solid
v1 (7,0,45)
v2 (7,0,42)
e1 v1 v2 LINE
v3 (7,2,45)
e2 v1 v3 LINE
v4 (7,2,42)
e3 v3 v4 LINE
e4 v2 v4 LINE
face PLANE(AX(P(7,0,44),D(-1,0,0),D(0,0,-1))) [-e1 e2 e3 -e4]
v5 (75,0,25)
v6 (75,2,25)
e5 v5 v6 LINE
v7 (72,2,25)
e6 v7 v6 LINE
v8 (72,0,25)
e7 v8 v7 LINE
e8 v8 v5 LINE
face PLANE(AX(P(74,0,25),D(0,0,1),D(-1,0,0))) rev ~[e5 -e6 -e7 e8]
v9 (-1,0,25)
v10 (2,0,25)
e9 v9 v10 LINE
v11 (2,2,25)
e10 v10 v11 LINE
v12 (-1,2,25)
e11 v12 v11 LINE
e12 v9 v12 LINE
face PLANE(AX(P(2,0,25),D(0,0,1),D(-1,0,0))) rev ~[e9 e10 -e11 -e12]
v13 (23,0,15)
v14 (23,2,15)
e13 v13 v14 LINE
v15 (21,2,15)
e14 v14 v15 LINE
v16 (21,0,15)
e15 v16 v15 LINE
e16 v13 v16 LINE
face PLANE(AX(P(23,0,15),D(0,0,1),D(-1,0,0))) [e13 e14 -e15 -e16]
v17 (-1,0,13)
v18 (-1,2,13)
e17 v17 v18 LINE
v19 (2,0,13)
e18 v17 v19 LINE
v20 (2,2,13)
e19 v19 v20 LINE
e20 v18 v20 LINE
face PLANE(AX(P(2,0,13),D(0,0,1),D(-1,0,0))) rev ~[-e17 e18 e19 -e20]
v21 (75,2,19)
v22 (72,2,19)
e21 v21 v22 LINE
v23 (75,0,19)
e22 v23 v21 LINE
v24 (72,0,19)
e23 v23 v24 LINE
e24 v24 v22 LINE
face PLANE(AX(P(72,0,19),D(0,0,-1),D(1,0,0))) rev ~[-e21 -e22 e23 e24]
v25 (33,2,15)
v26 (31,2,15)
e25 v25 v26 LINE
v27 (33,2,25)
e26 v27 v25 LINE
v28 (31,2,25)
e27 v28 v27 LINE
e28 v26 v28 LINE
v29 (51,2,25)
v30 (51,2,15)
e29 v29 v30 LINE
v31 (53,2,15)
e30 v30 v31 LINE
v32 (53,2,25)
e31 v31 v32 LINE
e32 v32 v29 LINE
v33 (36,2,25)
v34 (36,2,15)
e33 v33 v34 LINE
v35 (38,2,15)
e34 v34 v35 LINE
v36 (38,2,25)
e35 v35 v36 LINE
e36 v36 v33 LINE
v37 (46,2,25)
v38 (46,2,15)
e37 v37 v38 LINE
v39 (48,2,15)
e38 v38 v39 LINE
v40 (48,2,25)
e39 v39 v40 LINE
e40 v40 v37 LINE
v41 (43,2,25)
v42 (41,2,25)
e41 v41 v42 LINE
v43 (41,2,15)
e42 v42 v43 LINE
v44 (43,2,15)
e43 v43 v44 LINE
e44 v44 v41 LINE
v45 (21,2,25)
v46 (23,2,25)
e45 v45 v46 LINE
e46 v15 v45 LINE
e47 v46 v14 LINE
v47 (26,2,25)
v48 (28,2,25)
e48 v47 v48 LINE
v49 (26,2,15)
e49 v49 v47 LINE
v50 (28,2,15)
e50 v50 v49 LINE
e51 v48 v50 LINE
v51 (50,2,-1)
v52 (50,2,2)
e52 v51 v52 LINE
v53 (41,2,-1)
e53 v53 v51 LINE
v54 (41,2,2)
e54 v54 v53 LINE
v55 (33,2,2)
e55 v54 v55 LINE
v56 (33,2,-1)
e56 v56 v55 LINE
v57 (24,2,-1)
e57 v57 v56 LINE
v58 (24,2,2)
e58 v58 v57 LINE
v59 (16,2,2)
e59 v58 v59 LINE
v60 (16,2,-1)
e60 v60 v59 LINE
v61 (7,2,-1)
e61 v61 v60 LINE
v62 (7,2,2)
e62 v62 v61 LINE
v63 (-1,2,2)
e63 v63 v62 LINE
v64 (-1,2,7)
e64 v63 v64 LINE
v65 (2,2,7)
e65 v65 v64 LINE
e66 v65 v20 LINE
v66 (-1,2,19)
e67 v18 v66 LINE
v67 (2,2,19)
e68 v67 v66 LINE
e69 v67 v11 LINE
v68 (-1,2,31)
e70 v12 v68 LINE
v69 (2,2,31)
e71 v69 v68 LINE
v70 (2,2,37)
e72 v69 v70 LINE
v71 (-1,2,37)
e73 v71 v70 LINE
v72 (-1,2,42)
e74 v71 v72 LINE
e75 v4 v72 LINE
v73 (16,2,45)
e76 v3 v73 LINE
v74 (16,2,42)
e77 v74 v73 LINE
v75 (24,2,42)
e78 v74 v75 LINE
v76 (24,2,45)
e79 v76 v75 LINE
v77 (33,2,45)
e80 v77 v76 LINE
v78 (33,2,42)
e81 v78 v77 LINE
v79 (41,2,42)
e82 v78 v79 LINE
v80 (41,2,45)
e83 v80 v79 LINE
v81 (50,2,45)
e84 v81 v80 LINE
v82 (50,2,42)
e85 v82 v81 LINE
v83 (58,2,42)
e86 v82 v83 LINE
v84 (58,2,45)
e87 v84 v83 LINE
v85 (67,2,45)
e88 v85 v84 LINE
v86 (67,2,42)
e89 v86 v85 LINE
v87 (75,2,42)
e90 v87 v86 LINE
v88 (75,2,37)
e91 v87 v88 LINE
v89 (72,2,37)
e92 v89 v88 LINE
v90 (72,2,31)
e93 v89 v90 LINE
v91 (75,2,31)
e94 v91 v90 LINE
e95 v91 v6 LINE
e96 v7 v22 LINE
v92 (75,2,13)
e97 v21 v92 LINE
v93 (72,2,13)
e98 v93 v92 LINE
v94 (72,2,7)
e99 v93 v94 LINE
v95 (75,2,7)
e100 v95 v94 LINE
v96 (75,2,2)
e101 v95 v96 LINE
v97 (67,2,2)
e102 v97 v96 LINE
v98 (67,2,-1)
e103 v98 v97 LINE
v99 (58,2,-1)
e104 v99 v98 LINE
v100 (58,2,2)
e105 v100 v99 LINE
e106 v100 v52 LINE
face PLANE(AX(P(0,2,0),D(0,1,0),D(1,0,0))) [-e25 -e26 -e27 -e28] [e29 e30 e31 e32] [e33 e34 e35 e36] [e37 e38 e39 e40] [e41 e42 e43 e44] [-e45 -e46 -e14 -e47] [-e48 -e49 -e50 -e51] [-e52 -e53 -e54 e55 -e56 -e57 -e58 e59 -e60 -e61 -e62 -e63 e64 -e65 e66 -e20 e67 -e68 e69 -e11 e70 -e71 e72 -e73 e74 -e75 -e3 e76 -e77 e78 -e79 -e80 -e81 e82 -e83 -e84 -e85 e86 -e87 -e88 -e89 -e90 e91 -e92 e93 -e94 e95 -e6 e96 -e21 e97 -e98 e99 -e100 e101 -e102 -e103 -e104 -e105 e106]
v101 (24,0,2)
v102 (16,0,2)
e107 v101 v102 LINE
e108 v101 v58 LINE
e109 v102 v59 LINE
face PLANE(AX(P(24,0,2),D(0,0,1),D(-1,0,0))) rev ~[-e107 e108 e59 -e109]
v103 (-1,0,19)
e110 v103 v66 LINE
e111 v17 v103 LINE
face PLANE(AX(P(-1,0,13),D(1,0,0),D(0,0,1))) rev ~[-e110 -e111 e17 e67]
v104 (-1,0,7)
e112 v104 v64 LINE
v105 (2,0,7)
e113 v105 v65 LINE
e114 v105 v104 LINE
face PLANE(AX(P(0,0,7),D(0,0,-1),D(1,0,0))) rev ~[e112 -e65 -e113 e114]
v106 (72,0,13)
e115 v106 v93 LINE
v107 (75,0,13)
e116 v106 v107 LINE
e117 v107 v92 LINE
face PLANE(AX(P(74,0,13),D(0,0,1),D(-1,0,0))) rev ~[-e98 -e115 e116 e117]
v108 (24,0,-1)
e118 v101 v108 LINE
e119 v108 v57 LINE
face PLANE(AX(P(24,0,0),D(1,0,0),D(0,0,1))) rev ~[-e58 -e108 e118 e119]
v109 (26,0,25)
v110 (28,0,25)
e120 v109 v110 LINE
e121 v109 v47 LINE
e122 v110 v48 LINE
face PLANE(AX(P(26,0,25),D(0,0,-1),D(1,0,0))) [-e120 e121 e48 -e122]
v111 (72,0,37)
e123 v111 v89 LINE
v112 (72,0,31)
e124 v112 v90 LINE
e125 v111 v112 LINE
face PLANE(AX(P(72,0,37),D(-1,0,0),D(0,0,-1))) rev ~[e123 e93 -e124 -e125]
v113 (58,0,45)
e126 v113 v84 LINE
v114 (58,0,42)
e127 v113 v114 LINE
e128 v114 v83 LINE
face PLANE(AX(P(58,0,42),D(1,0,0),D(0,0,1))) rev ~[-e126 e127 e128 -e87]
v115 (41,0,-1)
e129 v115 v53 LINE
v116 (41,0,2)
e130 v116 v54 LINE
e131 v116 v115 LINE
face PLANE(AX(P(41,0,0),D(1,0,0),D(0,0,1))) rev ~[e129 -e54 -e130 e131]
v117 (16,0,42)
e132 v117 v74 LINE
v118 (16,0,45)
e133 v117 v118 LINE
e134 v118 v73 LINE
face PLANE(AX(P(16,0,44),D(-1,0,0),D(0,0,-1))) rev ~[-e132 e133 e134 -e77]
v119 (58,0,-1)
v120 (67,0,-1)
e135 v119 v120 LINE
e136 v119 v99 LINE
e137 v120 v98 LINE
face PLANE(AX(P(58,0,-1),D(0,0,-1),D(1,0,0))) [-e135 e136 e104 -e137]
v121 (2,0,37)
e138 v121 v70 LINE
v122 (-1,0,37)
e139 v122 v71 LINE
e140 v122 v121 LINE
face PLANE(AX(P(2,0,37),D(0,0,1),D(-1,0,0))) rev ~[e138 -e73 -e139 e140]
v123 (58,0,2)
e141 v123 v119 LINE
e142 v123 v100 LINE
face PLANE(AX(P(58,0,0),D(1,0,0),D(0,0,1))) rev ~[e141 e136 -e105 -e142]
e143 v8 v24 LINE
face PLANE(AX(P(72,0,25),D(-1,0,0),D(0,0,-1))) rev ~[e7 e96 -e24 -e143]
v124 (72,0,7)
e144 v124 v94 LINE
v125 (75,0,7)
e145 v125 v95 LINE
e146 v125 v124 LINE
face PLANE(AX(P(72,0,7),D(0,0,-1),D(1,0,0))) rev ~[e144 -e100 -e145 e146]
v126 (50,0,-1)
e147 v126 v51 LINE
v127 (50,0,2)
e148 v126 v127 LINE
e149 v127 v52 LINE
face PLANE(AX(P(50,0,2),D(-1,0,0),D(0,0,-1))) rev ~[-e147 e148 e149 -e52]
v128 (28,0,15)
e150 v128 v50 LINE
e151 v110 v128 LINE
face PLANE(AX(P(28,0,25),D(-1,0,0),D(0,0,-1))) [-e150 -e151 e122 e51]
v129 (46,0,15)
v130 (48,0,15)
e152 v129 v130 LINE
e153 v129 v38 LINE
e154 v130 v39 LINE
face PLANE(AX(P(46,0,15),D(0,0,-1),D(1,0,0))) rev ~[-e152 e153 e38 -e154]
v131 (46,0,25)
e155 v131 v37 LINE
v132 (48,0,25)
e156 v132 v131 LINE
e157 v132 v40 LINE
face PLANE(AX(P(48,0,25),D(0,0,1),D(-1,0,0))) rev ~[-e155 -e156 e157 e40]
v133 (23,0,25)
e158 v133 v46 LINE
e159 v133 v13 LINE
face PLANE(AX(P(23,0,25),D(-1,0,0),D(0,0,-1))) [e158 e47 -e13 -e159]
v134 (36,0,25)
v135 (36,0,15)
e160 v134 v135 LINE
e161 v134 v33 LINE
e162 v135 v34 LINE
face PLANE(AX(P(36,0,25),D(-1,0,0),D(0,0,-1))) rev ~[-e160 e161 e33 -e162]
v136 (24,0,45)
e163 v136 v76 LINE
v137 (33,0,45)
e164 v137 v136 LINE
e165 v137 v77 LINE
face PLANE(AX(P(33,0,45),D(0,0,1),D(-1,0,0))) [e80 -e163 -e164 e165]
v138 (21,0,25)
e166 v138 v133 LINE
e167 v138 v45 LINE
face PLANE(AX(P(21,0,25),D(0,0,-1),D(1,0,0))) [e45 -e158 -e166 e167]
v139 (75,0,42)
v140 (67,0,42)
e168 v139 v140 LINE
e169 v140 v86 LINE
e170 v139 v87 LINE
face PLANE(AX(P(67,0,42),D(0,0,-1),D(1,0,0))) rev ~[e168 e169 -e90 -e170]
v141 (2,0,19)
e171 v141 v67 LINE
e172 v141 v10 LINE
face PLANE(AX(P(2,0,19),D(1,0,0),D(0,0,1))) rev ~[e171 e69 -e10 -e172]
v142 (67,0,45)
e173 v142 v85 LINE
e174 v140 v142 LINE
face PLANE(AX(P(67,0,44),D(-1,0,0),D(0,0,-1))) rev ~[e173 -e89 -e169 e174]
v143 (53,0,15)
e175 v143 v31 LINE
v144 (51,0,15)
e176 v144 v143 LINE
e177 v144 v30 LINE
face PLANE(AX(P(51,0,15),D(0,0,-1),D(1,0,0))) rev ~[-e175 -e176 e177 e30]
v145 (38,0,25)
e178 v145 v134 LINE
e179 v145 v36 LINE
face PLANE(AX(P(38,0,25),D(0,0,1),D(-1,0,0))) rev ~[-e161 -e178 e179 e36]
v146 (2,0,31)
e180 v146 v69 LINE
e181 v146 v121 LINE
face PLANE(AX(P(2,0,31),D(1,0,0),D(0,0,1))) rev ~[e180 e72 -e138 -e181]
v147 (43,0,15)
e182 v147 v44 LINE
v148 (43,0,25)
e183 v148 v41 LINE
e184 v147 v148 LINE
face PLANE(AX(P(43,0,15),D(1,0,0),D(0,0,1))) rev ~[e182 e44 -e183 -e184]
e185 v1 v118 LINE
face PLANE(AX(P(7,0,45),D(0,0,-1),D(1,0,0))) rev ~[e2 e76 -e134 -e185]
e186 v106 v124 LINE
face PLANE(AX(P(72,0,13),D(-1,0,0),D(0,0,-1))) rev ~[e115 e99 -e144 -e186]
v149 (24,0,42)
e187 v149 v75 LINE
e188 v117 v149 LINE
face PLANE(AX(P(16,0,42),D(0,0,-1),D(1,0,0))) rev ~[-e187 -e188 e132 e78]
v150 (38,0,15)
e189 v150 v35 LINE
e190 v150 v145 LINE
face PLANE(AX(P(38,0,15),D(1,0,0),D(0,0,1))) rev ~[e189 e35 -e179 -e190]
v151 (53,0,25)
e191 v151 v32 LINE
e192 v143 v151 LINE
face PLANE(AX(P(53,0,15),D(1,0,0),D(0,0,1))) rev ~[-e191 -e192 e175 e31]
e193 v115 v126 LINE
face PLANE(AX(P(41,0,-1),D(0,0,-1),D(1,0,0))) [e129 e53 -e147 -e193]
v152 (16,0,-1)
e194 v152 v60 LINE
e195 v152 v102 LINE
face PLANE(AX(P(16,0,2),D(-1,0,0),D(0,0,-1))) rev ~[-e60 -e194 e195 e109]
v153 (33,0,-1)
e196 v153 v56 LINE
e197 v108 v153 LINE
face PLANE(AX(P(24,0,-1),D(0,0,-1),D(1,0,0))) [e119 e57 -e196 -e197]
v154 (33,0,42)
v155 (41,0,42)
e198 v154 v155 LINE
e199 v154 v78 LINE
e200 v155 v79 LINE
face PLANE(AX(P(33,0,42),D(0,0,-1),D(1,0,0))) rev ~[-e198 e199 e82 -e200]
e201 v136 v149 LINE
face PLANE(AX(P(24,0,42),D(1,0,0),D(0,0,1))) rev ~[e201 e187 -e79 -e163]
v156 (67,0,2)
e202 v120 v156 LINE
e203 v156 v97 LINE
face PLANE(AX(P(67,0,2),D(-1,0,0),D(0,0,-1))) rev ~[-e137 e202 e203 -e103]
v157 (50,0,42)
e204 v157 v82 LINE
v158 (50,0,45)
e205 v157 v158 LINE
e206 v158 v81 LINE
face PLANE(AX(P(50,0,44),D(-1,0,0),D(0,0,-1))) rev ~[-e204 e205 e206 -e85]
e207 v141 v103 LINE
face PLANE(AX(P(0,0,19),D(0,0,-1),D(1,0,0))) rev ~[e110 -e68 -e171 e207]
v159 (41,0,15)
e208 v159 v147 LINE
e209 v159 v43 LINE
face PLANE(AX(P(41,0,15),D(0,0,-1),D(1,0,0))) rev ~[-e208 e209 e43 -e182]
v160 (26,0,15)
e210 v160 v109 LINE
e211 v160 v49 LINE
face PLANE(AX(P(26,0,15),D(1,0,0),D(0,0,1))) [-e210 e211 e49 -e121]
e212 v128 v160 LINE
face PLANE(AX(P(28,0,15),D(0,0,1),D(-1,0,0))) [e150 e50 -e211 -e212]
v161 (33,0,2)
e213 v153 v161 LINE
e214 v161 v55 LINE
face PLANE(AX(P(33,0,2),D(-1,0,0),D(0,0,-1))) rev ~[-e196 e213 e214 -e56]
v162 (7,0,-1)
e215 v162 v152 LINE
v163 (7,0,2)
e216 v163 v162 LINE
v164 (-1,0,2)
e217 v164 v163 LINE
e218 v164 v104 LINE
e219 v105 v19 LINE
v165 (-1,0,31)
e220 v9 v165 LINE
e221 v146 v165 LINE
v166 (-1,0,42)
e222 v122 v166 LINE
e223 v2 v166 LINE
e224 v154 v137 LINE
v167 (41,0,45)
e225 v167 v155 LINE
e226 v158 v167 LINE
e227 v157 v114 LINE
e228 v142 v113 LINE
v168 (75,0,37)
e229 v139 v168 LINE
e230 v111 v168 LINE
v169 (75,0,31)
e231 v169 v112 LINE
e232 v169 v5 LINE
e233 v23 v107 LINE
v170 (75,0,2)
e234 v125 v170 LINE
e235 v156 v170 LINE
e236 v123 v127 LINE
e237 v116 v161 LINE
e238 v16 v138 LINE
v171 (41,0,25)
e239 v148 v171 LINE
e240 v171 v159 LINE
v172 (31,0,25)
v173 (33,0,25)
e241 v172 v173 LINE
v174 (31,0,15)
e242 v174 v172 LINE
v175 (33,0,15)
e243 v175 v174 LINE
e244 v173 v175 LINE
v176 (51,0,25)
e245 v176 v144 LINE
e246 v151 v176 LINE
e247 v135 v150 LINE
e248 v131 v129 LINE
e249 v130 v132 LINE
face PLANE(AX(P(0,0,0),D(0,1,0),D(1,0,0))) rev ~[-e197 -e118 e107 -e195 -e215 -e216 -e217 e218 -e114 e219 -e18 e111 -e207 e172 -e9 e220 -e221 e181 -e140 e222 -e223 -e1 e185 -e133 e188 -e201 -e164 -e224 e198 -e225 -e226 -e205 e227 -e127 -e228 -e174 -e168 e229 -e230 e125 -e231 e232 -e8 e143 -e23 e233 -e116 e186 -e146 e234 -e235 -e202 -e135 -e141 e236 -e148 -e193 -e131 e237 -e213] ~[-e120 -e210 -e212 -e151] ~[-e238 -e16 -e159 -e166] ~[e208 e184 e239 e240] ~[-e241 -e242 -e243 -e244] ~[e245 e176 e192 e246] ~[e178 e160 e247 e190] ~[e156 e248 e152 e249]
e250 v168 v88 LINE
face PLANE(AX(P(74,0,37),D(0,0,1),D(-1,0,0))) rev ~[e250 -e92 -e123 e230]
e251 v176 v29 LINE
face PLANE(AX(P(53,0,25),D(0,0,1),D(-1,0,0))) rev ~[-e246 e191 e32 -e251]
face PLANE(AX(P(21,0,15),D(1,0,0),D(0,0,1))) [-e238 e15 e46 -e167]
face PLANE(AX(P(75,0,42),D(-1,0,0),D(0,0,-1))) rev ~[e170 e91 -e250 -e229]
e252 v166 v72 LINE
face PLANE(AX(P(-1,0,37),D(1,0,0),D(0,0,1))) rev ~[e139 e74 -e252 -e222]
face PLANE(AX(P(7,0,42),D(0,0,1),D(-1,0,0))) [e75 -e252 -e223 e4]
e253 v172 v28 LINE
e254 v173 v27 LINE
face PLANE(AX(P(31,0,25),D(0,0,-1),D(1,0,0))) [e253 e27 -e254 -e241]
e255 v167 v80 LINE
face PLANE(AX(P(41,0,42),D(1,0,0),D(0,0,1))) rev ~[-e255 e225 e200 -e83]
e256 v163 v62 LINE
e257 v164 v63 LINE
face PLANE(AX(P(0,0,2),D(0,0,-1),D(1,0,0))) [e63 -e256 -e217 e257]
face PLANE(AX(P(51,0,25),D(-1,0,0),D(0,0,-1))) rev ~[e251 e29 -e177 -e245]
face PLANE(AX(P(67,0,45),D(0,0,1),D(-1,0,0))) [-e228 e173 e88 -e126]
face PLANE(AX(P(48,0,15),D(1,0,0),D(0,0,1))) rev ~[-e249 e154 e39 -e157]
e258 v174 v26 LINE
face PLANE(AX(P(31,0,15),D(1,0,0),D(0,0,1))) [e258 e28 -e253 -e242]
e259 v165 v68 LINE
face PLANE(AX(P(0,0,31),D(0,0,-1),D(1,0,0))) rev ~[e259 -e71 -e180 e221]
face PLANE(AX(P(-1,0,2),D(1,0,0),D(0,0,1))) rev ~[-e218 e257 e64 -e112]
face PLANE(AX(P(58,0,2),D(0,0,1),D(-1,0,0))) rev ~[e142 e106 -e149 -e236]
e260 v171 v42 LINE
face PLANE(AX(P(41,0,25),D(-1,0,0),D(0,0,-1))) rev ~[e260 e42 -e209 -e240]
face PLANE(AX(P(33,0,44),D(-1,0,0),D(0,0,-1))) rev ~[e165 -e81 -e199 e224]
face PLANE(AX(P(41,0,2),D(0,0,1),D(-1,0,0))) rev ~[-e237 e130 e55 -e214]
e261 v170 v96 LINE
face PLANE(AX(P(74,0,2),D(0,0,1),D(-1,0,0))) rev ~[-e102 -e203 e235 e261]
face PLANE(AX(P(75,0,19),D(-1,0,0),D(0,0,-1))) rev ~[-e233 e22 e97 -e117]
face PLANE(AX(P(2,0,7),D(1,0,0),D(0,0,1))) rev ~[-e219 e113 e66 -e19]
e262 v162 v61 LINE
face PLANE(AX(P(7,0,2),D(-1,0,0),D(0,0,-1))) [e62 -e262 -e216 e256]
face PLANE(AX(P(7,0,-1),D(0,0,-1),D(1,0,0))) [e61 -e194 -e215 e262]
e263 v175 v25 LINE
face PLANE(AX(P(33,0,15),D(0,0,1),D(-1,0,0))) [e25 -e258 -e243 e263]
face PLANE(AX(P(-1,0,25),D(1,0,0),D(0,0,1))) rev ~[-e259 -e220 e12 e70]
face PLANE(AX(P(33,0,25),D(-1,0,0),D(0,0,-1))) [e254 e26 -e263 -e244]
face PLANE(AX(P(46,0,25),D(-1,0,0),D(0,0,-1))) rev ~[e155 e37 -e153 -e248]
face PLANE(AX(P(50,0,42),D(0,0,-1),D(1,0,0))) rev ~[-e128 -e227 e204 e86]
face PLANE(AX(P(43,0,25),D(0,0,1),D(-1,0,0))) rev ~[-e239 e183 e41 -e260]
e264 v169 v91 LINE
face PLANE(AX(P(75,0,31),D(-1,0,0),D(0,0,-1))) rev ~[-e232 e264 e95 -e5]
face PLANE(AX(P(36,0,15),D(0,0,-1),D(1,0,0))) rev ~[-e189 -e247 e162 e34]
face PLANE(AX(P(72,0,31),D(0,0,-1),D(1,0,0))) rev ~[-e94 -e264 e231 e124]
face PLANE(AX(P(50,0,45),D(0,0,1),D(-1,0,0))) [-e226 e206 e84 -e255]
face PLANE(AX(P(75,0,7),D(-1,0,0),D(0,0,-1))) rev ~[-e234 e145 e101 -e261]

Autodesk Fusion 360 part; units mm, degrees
sketch "スケッチ1" plane through (0, 0, 0) normal (0, 1, 0) x (1, 0, 0)
  line L0 (0, 0) -> (74, 0)
  line L1 (74, 0) -> (74, -44)
  line L2 (74, -44) -> (0, -44)
  line L3 (0, -44) -> (0, 0)
  dimension "d1" = 74
  dimension "d2" = 44
extrude "押し出し1" add sketch "スケッチ1" along normal blind 2
sketch "スケッチ2" plane through (0, 0, 0) normal (0, -1, 0) x (1, 0, 0)
  line L0 (74, 44) -> (0, 44)
  line L1 (0, 44) -> (0, 0)
  line L2 (0, 0) -> (74, 0)
  line L3 (74, 0) -> (74, 44)
  line L4 (0, 44) -> (7, 44)
  line L5 (7, 44) -> (7, 42)
  line L6 (7, 42) -> (0, 42)
  line L7 (0, 42) -> (0, 44)
  line L8 (16, 42) -> (24, 42)
  line L9 (24, 42) -> (24, 44)
  line L10 (24, 44) -> (16, 44)
  line L11 (16, 44) -> (16, 42)
  line L12 (41, 44) -> (33, 44)
  line L13 (33, 42) -> (41, 42)
  line L14 (41, 42) -> (41, 44)
  line L15 (33, 44) -> (33, 42)
  line L16 (58, 44) -> (50, 44)
  line L17 (50, 42) -> (58, 42)
  line L18 (58, 42) -> (58, 44)
  line L19 (50, 44) -> (50, 42)
  line L20 (67, 42) -> (74, 42)
  line L21 (74, 42) -> (74, 44)
  line L22 (74, 44) -> (67, 44)
  line L23 (67, 44) -> (67, 42)
  line L24 (50, 2) -> (50, 0)
  line L25 (67, 2) -> (67, 0)
  line L26 (16, 0) -> (24, 0)
  line L27 (50, 0) -> (58, 0)
  line L28 (0, 2) -> (7, 2)
  line L29 (67, 0) -> (74, 0)
  line L30 (58, 0) -> (58, 2)
  line L31 (24, 2) -> (16, 2)
  line L32 (33, 2) -> (33, 0)
  line L33 (58, 2) -> (50, 2)
  line L34 (33, 0) -> (41, 0)
  line L35 (0, 0) -> (0, 2)
  line L36 (24, 0) -> (24, 2)
  line L37 (74, 2) -> (67, 2)
  line L38 (7, 2) -> (7, 0)
  line L39 (41, 0) -> (41, 2)
  line L40 (16, 2) -> (16, 0)
  line L41 (74, 0) -> (74, 2)
  line L42 (7, 0) -> (0, 0)
  line L43 (41, 2) -> (33, 2)
  dimension "d5" = 7
  dimension "d6" = 2
  dimension "d7" = 2
  dimension "d8" = 8
  dimension "d9" = 9
  dimension "d12" = 17
  dimension "d13" = 0
  dimension "d14" = 7
  dimension "d15" = 2
  dimension "d16" = 9
extrude "押し出し2" cut sketch "スケッチ2" against normal blind 2 contours L0 L3 L20 L21 L22 L23 | L0 L16 L17 L18 L19 | L2 L3 L25 L29 L37 L41 | L0 L12 L13 L14 L15 | L2 L24 L27 L30 L33 | L0 L8 L9 L10 L11 | L2 L32 L34 L39 L43 | L0 L1 L4 L5 L6 L7 | L2 L26 L31 L36 L40 | L1 L2 L28 L35 L38 L42
sketch "スケッチ3" plane through (0, 0, 0) normal (0, -1, 0) x (1, 0, 0)
  line L0 (33, 42) -> (33, 44)
  line L1 (33, 44) -> (24, 44)
  line L2 (24, 44) -> (24, 42)
  line L3 (24, 42) -> (16, 42)
  line L4 (16, 42) -> (16, 44)
  line L5 (16, 44) -> (7, 44)
  line L6 (7, 44) -> (7, 42)
  line L7 (7, 42) -> (0, 42)
  line L8 (0, 42) -> (0, 2)
  line L9 (0, 2) -> (7, 2)
  line L10 (7, 2) -> (7, 0)
  line L11 (7, 0) -> (16, 0)
  line L12 (16, 0) -> (16, 2)
  line L13 (16, 2) -> (24, 2)
  line L14 (24, 2) -> (24, 0)
  line L15 (24, 0) -> (33, 0)
  line L16 (33, 0) -> (33, 2)
  line L17 (33, 2) -> (41, 2)
  line L18 (41, 2) -> (41, 0)
  line L19 (41, 0) -> (50, 0)
  line L20 (50, 0) -> (50, 2)
  line L21 (50, 2) -> (58, 2)
  line L22 (58, 2) -> (58, 0)
  line L23 (58, 0) -> (67, 0)
  line L24 (67, 0) -> (67, 2)
  line L25 (67, 2) -> (74, 2)
  line L26 (74, 2) -> (74, 42)
  line L27 (74, 42) -> (67, 42)
  line L28 (67, 42) -> (67, 44)
  line L29 (67, 44) -> (58, 44)
  line L30 (58, 44) -> (58, 42)
  line L31 (58, 42) -> (50, 42)
  line L32 (50, 42) -> (50, 44)
  line L33 (50, 44) -> (41, 44)
  line L34 (41, 44) -> (41, 42)
  line L35 (41, 42) -> (33, 42)
  line L36 (2, 37) -> (0, 37)
  line L37 (0, 37) -> (0, 31)
  line L38 (0, 31) -> (2, 31)
  line L39 (2, 31) -> (2, 37)
  line L40 (0, 19) -> (2, 19)
  line L41 (0, 25) -> (0, 19)
  line L42 (2, 25) -> (0, 25)
  line L43 (2, 19) -> (2, 25)
  line L44 (0, 7) -> (2, 7)
  line L45 (0, 13) -> (0, 7)
  line L46 (2, 13) -> (0, 13)
  line L47 (2, 7) -> (2, 13)
  line L48 (72, 31) -> (74, 31)
  line L49 (74, 37) -> (72, 37)
  line L50 (74, 25) -> (72, 25)
  line L51 (72, 37) -> (72, 31)
  line L52 (72, 19) -> (74, 19)
  line L53 (72, 7) -> (74, 7)
  line L54 (74, 19) -> (74, 25)
  line L55 (72, 25) -> (72, 19)
  line L56 (74, 7) -> (74, 13)
  line L57 (74, 31) -> (74, 37)
  line L58 (72, 13) -> (72, 7)
  line L59 (74, 13) -> (72, 13)
  dimension "d23" = 7
  dimension "d24" = 6
  dimension "d25" = 2
  dimension "d28" = 0
  dimension "d29" = -12
  dimension "d30" = 7
  dimension "d33" = 72
  dimension "d34" = 0
extrude "押し出し3" cut sketch "スケッチ3" against normal blind 2 contours L8 L36 L37 L38 L39 | L26 L48 L49 L51 L57 | L8 L40 L41 L42 L43 | L26 L50 L52 L54 L55 | L8 L44 L45 L46 L47 | L26 L53 L56 L58 L59
sketch "スケッチ4" plane through (0, 0, 0) normal (0, -1, 0) x (1, 0, 0)
  line L0 (2, 31) -> (0, 31)
  line L1 (0, 31) -> (0, 25)
  line L2 (0, 25) -> (2, 25)
  line L3 (2, 25) -> (2, 19)
  line L4 (2, 19) -> (0, 19)
  line L5 (0, 19) -> (0, 13)
  line L6 (0, 13) -> (2, 13)
  line L7 (2, 13) -> (2, 7)
  line L8 (2, 7) -> (0, 7)
  line L9 (0, 7) -> (0, 2)
  line L10 (0, 2) -> (7, 2)
  line L11 (7, 2) -> (7, 0)
  line L12 (7, 0) -> (16, 0)
  line L13 (16, 0) -> (16, 2)
  line L14 (16, 2) -> (24, 2)
  line L15 (24, 2) -> (24, 0)
  line L16 (24, 0) -> (33, 0)
  line L17 (33, 0) -> (33, 2)
  line L18 (33, 2) -> (41, 2)
  line L19 (41, 2) -> (41, 0)
  line L20 (41, 0) -> (50, 0)
  line L21 (50, 0) -> (50, 2)
  line L22 (50, 2) -> (58, 2)
  line L23 (58, 2) -> (58, 0)
  line L24 (58, 0) -> (67, 0)
  line L25 (67, 0) -> (67, 2)
  line L26 (67, 2) -> (74, 2)
  line L27 (74, 2) -> (74, 7)
  line L28 (74, 7) -> (72, 7)
  line L29 (72, 7) -> (72, 13)
  line L30 (72, 13) -> (74, 13)
  line L31 (74, 13) -> (74, 19)
  line L32 (74, 19) -> (72, 19)
  line L33 (72, 19) -> (72, 25)
  line L34 (72, 25) -> (74, 25)
  line L35 (74, 25) -> (74, 31)
  line L36 (74, 31) -> (72, 31)
  line L37 (72, 31) -> (72, 37)
  line L38 (72, 37) -> (74, 37)
  line L39 (74, 37) -> (74, 42)
  line L40 (74, 42) -> (67, 42)
  line L41 (67, 42) -> (67, 44)
  line L42 (67, 44) -> (58, 44)
  line L43 (58, 44) -> (58, 42)
  line L44 (58, 42) -> (50, 42)
  line L45 (50, 42) -> (50, 44)
  line L46 (50, 44) -> (41, 44)
  line L47 (41, 44) -> (41, 42)
  line L48 (41, 42) -> (33, 42)
  line L49 (33, 42) -> (33, 44)
  line L50 (33, 44) -> (24, 44)
  line L51 (24, 44) -> (24, 42)
  line L52 (24, 42) -> (16, 42)
  line L53 (16, 42) -> (16, 44)
  line L54 (16, 44) -> (7, 44)
  line L55 (7, 44) -> (7, 42)
  line L56 (7, 42) -> (0, 42)
  line L57 (0, 42) -> (0, 37)
  line L58 (0, 37) -> (2, 37)
  line L59 (2, 37) -> (2, 31)
  line L60 (36, 15) -> (38, 15)
  line L61 (38, 15) -> (38, 25)
  line L62 (38, 25) -> (36, 25)
  line L63 (36, 25) -> (36, 15)
  line L64 (33, 15) -> (31, 15)
  line L65 (31, 15) -> (31, 25)
  line L66 (31, 25) -> (33, 25)
  line L67 (33, 25) -> (33, 15)
  line L68 (28, 15) -> (26, 15)
  line L69 (26, 15) -> (26, 25)
  line L70 (26, 25) -> (28, 25)
  line L71 (28, 25) -> (28, 15)
  line L72 (41, 15) -> (43, 15)
  line L73 (43, 15) -> (43, 25)
  line L74 (43, 25) -> (41, 25)
  line L75 (41, 25) -> (41, 15)
  line L76 (46, 15) -> (48, 15)
  line L77 (48, 15) -> (48, 25)
  line L78 (48, 25) -> (46, 25)
  line L79 (46, 25) -> (46, 15)
  line L80 (23, 15) -> (21, 15)
  line L81 (21, 15) -> (21, 25)
  line L82 (21, 25) -> (23, 25)
  line L83 (23, 25) -> (23, 15)
  line L84 (51, 15) -> (53, 15)
  line L85 (53, 15) -> (53, 25)
  line L86 (53, 25) -> (51, 25)
  line L87 (51, 25) -> (51, 15)
extrude "押し出し4" cut sketch "スケッチ4" against normal blind 2 contours L60 L61 L62 L63 | L64 L65 L66 L67 | L68 L69 L70 L71 | L72 L73 L74 L75 | L76 L77 L78 L79 | L80 L81 L82 L83 | L84 L85 L86 L87
sketch "スケッチ5" plane through (0, 0, 0) normal (0, -1, 0) x (1, 0, 0)
  line L0 (31, 15) -> (31, 25)
  line L1 (31, 25) -> (33, 25)
  line L2 (33, 25) -> (33, 15)
  line L3 (33, 15) -> (31, 15)
  line L4 (38, 15) -> (36, 15)
  line L5 (36, 15) -> (36, 25)
  line L6 (36, 25) -> (38, 25)
  line L7 (38, 25) -> (38, 15)
  line L8 (26, 15) -> (26, 25)
  line L9 (26, 25) -> (28, 25)
  line L10 (28, 25) -> (28, 15)
  line L11 (28, 15) -> (26, 15)
  line L12 (21, 15) -> (21, 25)
  line L13 (21, 25) -> (23, 25)
  line L14 (23, 25) -> (23, 15)
  line L15 (23, 15) -> (21, 15)
  line L16 (48, 15) -> (46, 15)
  line L17 (46, 15) -> (46, 25)
  line L18 (46, 25) -> (48, 25)
  line L19 (48, 25) -> (48, 15)
  line L20 (43, 15) -> (41, 15)
  line L21 (41, 15) -> (41, 25)
  line L22 (41, 25) -> (43, 25)
  line L23 (43, 25) -> (43, 15)
  line L24 (53, 15) -> (51, 15)
  line L25 (51, 15) -> (51, 25)
  line L26 (51, 25) -> (53, 25)
  line L27 (53, 25) -> (53, 15)
  line L28 (2, 31) -> (0, 31)
  line L29 (0, 31) -> (0, 25)
  line L30 (0, 25) -> (2, 25)
  line L31 (2, 25) -> (2, 19)
  line L32 (2, 19) -> (0, 19)
  line L33 (0, 19) -> (0, 13)
  line L34 (0, 13) -> (2, 13)
  line L35 (2, 13) -> (2, 7)
  line L36 (2, 7) -> (0, 7)
  line L37 (0, 7) -> (0, 2)
  line L38 (0, 2) -> (7, 2)
  line L39 (7, 2) -> (7, 0)
  line L40 (7, 0) -> (16, 0)
  line L41 (16, 0) -> (16, 2)
  line L42 (16, 2) -> (24, 2)
  line L43 (24, 2) -> (24, 0)
  line L44 (24, 0) -> (33, 0)
  line L45 (33, 0) -> (33, 2)
  line L46 (33, 2) -> (41, 2)
  line L47 (41, 2) -> (41, 0)
  line L48 (41, 0) -> (50, 0)
  line L49 (50, 0) -> (50, 2)
  line L50 (50, 2) -> (58, 2)
  line L51 (58, 2) -> (58, 0)
  line L52 (58, 0) -> (67, 0)
  line L53 (67, 0) -> (67, 2)
  line L54 (67, 2) -> (74, 2)
  line L55 (74, 2) -> (74, 7)
  line L56 (74, 7) -> (72, 7)
  line L57 (72, 7) -> (72, 13)
  line L58 (72, 13) -> (74, 13)
  line L59 (74, 13) -> (74, 19)
  line L60 (74, 19) -> (72, 19)
  line L61 (72, 19) -> (72, 25)
  line L62 (72, 25) -> (74, 25)
  line L63 (74, 25) -> (74, 31)
  line L64 (74, 31) -> (72, 31)
  line L65 (72, 31) -> (72, 37)
  line L66 (72, 37) -> (74, 37)
  line L67 (74, 37) -> (74, 42)
  line L68 (74, 42) -> (67, 42)
  line L69 (67, 42) -> (67, 44)
  line L70 (67, 44) -> (58, 44)
  line L71 (58, 44) -> (58, 42)
  line L72 (58, 42) -> (50, 42)
  line L73 (50, 42) -> (50, 44)
  line L74 (50, 44) -> (41, 44)
  line L75 (41, 44) -> (41, 42)
  line L76 (41, 42) -> (33, 42)
  line L77 (33, 42) -> (33, 44)
  line L78 (33, 44) -> (24, 44)
  line L79 (24, 44) -> (24, 42)
  line L80 (24, 42) -> (16, 42)
  line L81 (16, 42) -> (16, 44)
  line L82 (16, 44) -> (7, 44)
  line L83 (7, 44) -> (7, 42)
  line L84 (7, 42) -> (0, 42)
  line L85 (0, 42) -> (0, 37)
  line L86 (0, 37) -> (2, 37)
  line L87 (2, 37) -> (2, 31)
  line L88 (7, 45) -> (16, 45)
  line L89 (16, 45) -> (16, 44)
  line L90 (16, 44) -> (7, 44)
  line L91 (7, 44) -> (7, 45)
  line L92 (24, 44) -> (33, 44)
  line L93 (33, 44) -> (33, 45)
  line L94 (33, 45) -> (24, 45)
  line L95 (24, 45) -> (24, 44)
  line L96 (41, 44) -> (50, 44)
  line L97 (50, 44) -> (50, 45)
  line L98 (50, 45) -> (41, 45)
  line L99 (41, 45) -> (41, 44)
  line L100 (58, 44) -> (67, 44)
  line L101 (67, 44) -> (67, 45)
  line L102 (67, 45) -> (58, 45)
  line L103 (58, 45) -> (58, 44)
  line L104 (74, 42) -> (75, 42)
  line L105 (75, 42) -> (75, 37)
  line L106 (75, 37) -> (74, 37)
  line L107 (74, 37) -> (74, 42)
  line L108 (74, 31) -> (75, 31)
  line L109 (75, 31) -> (75, 25)
  line L110 (75, 25) -> (74, 25)
  line L111 (74, 25) -> (74, 31)
  line L112 (74, 19) -> (75, 19)
  line L113 (75, 19) -> (75, 13)
  line L114 (75, 13) -> (74, 13)
  line L115 (74, 13) -> (74, 19)
  line L116 (74, 7) -> (75, 7)
  line L117 (75, 7) -> (75, 2)
  line L118 (75, 2) -> (74, 2)
  line L119 (74, 2) -> (74, 7)
  line L120 (67, 0) -> (58, 0)
  line L121 (58, 0) -> (58, -1)
  line L122 (58, -1) -> (67, -1)
  line L123 (67, -1) -> (67, 0)
  line L124 (50, 0) -> (41, 0)
  line L125 (41, 0) -> (41, -1)
  line L126 (41, -1) -> (50, -1)
  line L127 (50, -1) -> (50, 0)
  line L128 (33, 0) -> (24, 0)
  line L129 (24, 0) -> (24, -1)
  line L130 (24, -1) -> (33, -1)
  line L131 (33, -1) -> (33, 0)
  line L132 (16, 0) -> (7, 0)
  line L133 (7, 0) -> (7, -1)
  line L134 (7, -1) -> (16, -1)
  line L135 (16, -1) -> (16, 0)
  line L136 (0, 2) -> (-1, 2)
  line L137 (-1, 2) -> (-1, 7)
  line L138 (-1, 7) -> (0, 7)
  line L139 (0, 7) -> (0, 2)
  line L140 (0, 13) -> (-1, 13)
  line L141 (-1, 13) -> (-1, 19)
  line L142 (-1, 19) -> (0, 19)
  line L143 (0, 19) -> (0, 13)
  line L144 (0, 25) -> (-1, 25)
  line L145 (-1, 25) -> (-1, 31)
  line L146 (-1, 31) -> (0, 31)
  line L147 (0, 31) -> (0, 25)
  line L148 (0, 37) -> (-1, 37)
  line L149 (-1, 37) -> (-1, 42)
  line L150 (-1, 42) -> (0, 42)
  line L151 (0, 42) -> (0, 37)
extrude "押し出し5" add sketch "スケッチ5" against normal blind 2 contours L29 L144 L145 L146 L147 | L85 L148 L149 L150 L151 | L33 L140 L141 L142 L143 | L82 L88 L89 L90 L91 | L37 L136 L137 L138 L139 | L78 L92 L93 L94 L95 | L40 L132 L133 L134 L135 | L74 L96 L97 L98 L99 | L44 L128 L129 L130 L131 | L70 L100 L101 L102 L103 | L48 L124 L125 L126 L127 | L67 L104 L105 L106 L107 | L52 L120 L121 L122 L123 | L63 L108 L109 L110 L111 | L55 L116 L117 L118 L119 | L59 L112 L113 L114 L115
sketch "スケッチ6" plane through (0, 0, 0) normal (0, -1, 0) x (1, 0, 0)
  line L0 (31, 15) -> (31, 25)
  line L1 (31, 25) -> (33, 25)
  line L2 (33, 25) -> (33, 15)
  line L3 (33, 15) -> (31, 15)
  line L4 (38, 15) -> (36, 15)
  line L5 (36, 15) -> (36, 25)
  line L6 (36, 25) -> (38, 25)
  line L7 (38, 25) -> (38, 15)
  line L8 (26, 15) -> (26, 25)
  line L9 (26, 25) -> (28, 25)
  line L10 (28, 25) -> (28, 15)
  line L11 (28, 15) -> (26, 15)
  line L12 (21, 15) -> (21, 25)
  line L13 (21, 25) -> (23, 25)
  line L14 (23, 25) -> (23, 15)
  line L15 (23, 15) -> (21, 15)
  line L16 (48, 15) -> (46, 15)
  line L17 (46, 15) -> (46, 25)
  line L18 (46, 25) -> (48, 25)
  line L19 (48, 25) -> (48, 15)
  line L20 (43, 15) -> (41, 15)
  line L21 (41, 15) -> (41, 25)
  line L22 (41, 25) -> (43, 25)
  line L23 (43, 25) -> (43, 15)
  line L24 (53, 15) -> (51, 15)
  line L25 (51, 15) -> (51, 25)
  line L26 (51, 25) -> (53, 25)
  line L27 (53, 25) -> (53, 15)
  line L28 (2, 31) -> (-1, 31)
  line L29 (-1, 31) -> (-1, 25)
  line L30 (-1, 25) -> (2, 25)
  line L31 (2, 25) -> (2, 19)
  line L32 (2, 19) -> (-1, 19)
  line L33 (-1, 19) -> (-1, 13)
  line L34 (-1, 13) -> (2, 13)
  line L35 (2, 13) -> (2, 7)
  line L36 (2, 7) -> (-1, 7)
  line L37 (-1, 7) -> (-1, 2)
  line L38 (-1, 2) -> (7, 2)
  line L39 (7, 2) -> (7, -1)
  line L40 (7, -1) -> (16, -1)
  line L41 (16, -1) -> (16, 2)
  line L42 (16, 2) -> (24, 2)
  line L43 (24, 2) -> (24, -1)
  line L44 (24, -1) -> (33, -1)
  line L45 (33, -1) -> (33, 2)
  line L46 (33, 2) -> (41, 2)
  line L47 (41, 2) -> (41, -1)
  line L48 (41, -1) -> (50, -1)
  line L49 (50, -1) -> (50, 2)
  line L50 (50, 2) -> (58, 2)
  line L51 (58, 2) -> (58, -1)
  line L52 (58, -1) -> (67, -1)
  line L53 (67, -1) -> (67, 2)
  line L54 (67, 2) -> (75, 2)
  line L55 (75, 2) -> (75, 7)
  line L56 (75, 7) -> (72, 7)
  line L57 (72, 7) -> (72, 13)
  line L58 (72, 13) -> (75, 13)
  line L59 (75, 13) -> (75, 19)
  line L60 (75, 19) -> (72, 19)
  line L61 (72, 19) -> (72, 25)
  line L62 (72, 25) -> (75, 25)
  line L63 (75, 25) -> (75, 31)
  line L64 (75, 31) -> (72, 31)
  line L65 (72, 31) -> (72, 37)
  line L66 (72, 37) -> (75, 37)
  line L67 (75, 37) -> (75, 42)
  line L68 (75, 42) -> (67, 42)
  line L69 (67, 42) -> (67, 45)
  line L70 (67, 45) -> (58, 45)
  line L71 (58, 45) -> (58, 42)
  line L72 (58, 42) -> (50, 42)
  line L73 (50, 42) -> (50, 45)
  line L74 (50, 45) -> (41, 45)
  line L75 (41, 45) -> (41, 42)
  line L76 (41, 42) -> (33, 42)
  line L77 (33, 42) -> (33, 45)
  line L78 (33, 45) -> (24, 45)
  line L79 (24, 45) -> (24, 42)
  line L80 (24, 42) -> (16, 42)
  line L81 (16, 42) -> (16, 45)
  line L82 (16, 45) -> (7, 45)
  line L83 (7, 45) -> (7, 42)
  line L84 (7, 42) -> (-1, 42)
  line L85 (-1, 42) -> (-1, 37)
  line L86 (-1, 37) -> (2, 37)
  line L87 (2, 37) -> (2, 31)
